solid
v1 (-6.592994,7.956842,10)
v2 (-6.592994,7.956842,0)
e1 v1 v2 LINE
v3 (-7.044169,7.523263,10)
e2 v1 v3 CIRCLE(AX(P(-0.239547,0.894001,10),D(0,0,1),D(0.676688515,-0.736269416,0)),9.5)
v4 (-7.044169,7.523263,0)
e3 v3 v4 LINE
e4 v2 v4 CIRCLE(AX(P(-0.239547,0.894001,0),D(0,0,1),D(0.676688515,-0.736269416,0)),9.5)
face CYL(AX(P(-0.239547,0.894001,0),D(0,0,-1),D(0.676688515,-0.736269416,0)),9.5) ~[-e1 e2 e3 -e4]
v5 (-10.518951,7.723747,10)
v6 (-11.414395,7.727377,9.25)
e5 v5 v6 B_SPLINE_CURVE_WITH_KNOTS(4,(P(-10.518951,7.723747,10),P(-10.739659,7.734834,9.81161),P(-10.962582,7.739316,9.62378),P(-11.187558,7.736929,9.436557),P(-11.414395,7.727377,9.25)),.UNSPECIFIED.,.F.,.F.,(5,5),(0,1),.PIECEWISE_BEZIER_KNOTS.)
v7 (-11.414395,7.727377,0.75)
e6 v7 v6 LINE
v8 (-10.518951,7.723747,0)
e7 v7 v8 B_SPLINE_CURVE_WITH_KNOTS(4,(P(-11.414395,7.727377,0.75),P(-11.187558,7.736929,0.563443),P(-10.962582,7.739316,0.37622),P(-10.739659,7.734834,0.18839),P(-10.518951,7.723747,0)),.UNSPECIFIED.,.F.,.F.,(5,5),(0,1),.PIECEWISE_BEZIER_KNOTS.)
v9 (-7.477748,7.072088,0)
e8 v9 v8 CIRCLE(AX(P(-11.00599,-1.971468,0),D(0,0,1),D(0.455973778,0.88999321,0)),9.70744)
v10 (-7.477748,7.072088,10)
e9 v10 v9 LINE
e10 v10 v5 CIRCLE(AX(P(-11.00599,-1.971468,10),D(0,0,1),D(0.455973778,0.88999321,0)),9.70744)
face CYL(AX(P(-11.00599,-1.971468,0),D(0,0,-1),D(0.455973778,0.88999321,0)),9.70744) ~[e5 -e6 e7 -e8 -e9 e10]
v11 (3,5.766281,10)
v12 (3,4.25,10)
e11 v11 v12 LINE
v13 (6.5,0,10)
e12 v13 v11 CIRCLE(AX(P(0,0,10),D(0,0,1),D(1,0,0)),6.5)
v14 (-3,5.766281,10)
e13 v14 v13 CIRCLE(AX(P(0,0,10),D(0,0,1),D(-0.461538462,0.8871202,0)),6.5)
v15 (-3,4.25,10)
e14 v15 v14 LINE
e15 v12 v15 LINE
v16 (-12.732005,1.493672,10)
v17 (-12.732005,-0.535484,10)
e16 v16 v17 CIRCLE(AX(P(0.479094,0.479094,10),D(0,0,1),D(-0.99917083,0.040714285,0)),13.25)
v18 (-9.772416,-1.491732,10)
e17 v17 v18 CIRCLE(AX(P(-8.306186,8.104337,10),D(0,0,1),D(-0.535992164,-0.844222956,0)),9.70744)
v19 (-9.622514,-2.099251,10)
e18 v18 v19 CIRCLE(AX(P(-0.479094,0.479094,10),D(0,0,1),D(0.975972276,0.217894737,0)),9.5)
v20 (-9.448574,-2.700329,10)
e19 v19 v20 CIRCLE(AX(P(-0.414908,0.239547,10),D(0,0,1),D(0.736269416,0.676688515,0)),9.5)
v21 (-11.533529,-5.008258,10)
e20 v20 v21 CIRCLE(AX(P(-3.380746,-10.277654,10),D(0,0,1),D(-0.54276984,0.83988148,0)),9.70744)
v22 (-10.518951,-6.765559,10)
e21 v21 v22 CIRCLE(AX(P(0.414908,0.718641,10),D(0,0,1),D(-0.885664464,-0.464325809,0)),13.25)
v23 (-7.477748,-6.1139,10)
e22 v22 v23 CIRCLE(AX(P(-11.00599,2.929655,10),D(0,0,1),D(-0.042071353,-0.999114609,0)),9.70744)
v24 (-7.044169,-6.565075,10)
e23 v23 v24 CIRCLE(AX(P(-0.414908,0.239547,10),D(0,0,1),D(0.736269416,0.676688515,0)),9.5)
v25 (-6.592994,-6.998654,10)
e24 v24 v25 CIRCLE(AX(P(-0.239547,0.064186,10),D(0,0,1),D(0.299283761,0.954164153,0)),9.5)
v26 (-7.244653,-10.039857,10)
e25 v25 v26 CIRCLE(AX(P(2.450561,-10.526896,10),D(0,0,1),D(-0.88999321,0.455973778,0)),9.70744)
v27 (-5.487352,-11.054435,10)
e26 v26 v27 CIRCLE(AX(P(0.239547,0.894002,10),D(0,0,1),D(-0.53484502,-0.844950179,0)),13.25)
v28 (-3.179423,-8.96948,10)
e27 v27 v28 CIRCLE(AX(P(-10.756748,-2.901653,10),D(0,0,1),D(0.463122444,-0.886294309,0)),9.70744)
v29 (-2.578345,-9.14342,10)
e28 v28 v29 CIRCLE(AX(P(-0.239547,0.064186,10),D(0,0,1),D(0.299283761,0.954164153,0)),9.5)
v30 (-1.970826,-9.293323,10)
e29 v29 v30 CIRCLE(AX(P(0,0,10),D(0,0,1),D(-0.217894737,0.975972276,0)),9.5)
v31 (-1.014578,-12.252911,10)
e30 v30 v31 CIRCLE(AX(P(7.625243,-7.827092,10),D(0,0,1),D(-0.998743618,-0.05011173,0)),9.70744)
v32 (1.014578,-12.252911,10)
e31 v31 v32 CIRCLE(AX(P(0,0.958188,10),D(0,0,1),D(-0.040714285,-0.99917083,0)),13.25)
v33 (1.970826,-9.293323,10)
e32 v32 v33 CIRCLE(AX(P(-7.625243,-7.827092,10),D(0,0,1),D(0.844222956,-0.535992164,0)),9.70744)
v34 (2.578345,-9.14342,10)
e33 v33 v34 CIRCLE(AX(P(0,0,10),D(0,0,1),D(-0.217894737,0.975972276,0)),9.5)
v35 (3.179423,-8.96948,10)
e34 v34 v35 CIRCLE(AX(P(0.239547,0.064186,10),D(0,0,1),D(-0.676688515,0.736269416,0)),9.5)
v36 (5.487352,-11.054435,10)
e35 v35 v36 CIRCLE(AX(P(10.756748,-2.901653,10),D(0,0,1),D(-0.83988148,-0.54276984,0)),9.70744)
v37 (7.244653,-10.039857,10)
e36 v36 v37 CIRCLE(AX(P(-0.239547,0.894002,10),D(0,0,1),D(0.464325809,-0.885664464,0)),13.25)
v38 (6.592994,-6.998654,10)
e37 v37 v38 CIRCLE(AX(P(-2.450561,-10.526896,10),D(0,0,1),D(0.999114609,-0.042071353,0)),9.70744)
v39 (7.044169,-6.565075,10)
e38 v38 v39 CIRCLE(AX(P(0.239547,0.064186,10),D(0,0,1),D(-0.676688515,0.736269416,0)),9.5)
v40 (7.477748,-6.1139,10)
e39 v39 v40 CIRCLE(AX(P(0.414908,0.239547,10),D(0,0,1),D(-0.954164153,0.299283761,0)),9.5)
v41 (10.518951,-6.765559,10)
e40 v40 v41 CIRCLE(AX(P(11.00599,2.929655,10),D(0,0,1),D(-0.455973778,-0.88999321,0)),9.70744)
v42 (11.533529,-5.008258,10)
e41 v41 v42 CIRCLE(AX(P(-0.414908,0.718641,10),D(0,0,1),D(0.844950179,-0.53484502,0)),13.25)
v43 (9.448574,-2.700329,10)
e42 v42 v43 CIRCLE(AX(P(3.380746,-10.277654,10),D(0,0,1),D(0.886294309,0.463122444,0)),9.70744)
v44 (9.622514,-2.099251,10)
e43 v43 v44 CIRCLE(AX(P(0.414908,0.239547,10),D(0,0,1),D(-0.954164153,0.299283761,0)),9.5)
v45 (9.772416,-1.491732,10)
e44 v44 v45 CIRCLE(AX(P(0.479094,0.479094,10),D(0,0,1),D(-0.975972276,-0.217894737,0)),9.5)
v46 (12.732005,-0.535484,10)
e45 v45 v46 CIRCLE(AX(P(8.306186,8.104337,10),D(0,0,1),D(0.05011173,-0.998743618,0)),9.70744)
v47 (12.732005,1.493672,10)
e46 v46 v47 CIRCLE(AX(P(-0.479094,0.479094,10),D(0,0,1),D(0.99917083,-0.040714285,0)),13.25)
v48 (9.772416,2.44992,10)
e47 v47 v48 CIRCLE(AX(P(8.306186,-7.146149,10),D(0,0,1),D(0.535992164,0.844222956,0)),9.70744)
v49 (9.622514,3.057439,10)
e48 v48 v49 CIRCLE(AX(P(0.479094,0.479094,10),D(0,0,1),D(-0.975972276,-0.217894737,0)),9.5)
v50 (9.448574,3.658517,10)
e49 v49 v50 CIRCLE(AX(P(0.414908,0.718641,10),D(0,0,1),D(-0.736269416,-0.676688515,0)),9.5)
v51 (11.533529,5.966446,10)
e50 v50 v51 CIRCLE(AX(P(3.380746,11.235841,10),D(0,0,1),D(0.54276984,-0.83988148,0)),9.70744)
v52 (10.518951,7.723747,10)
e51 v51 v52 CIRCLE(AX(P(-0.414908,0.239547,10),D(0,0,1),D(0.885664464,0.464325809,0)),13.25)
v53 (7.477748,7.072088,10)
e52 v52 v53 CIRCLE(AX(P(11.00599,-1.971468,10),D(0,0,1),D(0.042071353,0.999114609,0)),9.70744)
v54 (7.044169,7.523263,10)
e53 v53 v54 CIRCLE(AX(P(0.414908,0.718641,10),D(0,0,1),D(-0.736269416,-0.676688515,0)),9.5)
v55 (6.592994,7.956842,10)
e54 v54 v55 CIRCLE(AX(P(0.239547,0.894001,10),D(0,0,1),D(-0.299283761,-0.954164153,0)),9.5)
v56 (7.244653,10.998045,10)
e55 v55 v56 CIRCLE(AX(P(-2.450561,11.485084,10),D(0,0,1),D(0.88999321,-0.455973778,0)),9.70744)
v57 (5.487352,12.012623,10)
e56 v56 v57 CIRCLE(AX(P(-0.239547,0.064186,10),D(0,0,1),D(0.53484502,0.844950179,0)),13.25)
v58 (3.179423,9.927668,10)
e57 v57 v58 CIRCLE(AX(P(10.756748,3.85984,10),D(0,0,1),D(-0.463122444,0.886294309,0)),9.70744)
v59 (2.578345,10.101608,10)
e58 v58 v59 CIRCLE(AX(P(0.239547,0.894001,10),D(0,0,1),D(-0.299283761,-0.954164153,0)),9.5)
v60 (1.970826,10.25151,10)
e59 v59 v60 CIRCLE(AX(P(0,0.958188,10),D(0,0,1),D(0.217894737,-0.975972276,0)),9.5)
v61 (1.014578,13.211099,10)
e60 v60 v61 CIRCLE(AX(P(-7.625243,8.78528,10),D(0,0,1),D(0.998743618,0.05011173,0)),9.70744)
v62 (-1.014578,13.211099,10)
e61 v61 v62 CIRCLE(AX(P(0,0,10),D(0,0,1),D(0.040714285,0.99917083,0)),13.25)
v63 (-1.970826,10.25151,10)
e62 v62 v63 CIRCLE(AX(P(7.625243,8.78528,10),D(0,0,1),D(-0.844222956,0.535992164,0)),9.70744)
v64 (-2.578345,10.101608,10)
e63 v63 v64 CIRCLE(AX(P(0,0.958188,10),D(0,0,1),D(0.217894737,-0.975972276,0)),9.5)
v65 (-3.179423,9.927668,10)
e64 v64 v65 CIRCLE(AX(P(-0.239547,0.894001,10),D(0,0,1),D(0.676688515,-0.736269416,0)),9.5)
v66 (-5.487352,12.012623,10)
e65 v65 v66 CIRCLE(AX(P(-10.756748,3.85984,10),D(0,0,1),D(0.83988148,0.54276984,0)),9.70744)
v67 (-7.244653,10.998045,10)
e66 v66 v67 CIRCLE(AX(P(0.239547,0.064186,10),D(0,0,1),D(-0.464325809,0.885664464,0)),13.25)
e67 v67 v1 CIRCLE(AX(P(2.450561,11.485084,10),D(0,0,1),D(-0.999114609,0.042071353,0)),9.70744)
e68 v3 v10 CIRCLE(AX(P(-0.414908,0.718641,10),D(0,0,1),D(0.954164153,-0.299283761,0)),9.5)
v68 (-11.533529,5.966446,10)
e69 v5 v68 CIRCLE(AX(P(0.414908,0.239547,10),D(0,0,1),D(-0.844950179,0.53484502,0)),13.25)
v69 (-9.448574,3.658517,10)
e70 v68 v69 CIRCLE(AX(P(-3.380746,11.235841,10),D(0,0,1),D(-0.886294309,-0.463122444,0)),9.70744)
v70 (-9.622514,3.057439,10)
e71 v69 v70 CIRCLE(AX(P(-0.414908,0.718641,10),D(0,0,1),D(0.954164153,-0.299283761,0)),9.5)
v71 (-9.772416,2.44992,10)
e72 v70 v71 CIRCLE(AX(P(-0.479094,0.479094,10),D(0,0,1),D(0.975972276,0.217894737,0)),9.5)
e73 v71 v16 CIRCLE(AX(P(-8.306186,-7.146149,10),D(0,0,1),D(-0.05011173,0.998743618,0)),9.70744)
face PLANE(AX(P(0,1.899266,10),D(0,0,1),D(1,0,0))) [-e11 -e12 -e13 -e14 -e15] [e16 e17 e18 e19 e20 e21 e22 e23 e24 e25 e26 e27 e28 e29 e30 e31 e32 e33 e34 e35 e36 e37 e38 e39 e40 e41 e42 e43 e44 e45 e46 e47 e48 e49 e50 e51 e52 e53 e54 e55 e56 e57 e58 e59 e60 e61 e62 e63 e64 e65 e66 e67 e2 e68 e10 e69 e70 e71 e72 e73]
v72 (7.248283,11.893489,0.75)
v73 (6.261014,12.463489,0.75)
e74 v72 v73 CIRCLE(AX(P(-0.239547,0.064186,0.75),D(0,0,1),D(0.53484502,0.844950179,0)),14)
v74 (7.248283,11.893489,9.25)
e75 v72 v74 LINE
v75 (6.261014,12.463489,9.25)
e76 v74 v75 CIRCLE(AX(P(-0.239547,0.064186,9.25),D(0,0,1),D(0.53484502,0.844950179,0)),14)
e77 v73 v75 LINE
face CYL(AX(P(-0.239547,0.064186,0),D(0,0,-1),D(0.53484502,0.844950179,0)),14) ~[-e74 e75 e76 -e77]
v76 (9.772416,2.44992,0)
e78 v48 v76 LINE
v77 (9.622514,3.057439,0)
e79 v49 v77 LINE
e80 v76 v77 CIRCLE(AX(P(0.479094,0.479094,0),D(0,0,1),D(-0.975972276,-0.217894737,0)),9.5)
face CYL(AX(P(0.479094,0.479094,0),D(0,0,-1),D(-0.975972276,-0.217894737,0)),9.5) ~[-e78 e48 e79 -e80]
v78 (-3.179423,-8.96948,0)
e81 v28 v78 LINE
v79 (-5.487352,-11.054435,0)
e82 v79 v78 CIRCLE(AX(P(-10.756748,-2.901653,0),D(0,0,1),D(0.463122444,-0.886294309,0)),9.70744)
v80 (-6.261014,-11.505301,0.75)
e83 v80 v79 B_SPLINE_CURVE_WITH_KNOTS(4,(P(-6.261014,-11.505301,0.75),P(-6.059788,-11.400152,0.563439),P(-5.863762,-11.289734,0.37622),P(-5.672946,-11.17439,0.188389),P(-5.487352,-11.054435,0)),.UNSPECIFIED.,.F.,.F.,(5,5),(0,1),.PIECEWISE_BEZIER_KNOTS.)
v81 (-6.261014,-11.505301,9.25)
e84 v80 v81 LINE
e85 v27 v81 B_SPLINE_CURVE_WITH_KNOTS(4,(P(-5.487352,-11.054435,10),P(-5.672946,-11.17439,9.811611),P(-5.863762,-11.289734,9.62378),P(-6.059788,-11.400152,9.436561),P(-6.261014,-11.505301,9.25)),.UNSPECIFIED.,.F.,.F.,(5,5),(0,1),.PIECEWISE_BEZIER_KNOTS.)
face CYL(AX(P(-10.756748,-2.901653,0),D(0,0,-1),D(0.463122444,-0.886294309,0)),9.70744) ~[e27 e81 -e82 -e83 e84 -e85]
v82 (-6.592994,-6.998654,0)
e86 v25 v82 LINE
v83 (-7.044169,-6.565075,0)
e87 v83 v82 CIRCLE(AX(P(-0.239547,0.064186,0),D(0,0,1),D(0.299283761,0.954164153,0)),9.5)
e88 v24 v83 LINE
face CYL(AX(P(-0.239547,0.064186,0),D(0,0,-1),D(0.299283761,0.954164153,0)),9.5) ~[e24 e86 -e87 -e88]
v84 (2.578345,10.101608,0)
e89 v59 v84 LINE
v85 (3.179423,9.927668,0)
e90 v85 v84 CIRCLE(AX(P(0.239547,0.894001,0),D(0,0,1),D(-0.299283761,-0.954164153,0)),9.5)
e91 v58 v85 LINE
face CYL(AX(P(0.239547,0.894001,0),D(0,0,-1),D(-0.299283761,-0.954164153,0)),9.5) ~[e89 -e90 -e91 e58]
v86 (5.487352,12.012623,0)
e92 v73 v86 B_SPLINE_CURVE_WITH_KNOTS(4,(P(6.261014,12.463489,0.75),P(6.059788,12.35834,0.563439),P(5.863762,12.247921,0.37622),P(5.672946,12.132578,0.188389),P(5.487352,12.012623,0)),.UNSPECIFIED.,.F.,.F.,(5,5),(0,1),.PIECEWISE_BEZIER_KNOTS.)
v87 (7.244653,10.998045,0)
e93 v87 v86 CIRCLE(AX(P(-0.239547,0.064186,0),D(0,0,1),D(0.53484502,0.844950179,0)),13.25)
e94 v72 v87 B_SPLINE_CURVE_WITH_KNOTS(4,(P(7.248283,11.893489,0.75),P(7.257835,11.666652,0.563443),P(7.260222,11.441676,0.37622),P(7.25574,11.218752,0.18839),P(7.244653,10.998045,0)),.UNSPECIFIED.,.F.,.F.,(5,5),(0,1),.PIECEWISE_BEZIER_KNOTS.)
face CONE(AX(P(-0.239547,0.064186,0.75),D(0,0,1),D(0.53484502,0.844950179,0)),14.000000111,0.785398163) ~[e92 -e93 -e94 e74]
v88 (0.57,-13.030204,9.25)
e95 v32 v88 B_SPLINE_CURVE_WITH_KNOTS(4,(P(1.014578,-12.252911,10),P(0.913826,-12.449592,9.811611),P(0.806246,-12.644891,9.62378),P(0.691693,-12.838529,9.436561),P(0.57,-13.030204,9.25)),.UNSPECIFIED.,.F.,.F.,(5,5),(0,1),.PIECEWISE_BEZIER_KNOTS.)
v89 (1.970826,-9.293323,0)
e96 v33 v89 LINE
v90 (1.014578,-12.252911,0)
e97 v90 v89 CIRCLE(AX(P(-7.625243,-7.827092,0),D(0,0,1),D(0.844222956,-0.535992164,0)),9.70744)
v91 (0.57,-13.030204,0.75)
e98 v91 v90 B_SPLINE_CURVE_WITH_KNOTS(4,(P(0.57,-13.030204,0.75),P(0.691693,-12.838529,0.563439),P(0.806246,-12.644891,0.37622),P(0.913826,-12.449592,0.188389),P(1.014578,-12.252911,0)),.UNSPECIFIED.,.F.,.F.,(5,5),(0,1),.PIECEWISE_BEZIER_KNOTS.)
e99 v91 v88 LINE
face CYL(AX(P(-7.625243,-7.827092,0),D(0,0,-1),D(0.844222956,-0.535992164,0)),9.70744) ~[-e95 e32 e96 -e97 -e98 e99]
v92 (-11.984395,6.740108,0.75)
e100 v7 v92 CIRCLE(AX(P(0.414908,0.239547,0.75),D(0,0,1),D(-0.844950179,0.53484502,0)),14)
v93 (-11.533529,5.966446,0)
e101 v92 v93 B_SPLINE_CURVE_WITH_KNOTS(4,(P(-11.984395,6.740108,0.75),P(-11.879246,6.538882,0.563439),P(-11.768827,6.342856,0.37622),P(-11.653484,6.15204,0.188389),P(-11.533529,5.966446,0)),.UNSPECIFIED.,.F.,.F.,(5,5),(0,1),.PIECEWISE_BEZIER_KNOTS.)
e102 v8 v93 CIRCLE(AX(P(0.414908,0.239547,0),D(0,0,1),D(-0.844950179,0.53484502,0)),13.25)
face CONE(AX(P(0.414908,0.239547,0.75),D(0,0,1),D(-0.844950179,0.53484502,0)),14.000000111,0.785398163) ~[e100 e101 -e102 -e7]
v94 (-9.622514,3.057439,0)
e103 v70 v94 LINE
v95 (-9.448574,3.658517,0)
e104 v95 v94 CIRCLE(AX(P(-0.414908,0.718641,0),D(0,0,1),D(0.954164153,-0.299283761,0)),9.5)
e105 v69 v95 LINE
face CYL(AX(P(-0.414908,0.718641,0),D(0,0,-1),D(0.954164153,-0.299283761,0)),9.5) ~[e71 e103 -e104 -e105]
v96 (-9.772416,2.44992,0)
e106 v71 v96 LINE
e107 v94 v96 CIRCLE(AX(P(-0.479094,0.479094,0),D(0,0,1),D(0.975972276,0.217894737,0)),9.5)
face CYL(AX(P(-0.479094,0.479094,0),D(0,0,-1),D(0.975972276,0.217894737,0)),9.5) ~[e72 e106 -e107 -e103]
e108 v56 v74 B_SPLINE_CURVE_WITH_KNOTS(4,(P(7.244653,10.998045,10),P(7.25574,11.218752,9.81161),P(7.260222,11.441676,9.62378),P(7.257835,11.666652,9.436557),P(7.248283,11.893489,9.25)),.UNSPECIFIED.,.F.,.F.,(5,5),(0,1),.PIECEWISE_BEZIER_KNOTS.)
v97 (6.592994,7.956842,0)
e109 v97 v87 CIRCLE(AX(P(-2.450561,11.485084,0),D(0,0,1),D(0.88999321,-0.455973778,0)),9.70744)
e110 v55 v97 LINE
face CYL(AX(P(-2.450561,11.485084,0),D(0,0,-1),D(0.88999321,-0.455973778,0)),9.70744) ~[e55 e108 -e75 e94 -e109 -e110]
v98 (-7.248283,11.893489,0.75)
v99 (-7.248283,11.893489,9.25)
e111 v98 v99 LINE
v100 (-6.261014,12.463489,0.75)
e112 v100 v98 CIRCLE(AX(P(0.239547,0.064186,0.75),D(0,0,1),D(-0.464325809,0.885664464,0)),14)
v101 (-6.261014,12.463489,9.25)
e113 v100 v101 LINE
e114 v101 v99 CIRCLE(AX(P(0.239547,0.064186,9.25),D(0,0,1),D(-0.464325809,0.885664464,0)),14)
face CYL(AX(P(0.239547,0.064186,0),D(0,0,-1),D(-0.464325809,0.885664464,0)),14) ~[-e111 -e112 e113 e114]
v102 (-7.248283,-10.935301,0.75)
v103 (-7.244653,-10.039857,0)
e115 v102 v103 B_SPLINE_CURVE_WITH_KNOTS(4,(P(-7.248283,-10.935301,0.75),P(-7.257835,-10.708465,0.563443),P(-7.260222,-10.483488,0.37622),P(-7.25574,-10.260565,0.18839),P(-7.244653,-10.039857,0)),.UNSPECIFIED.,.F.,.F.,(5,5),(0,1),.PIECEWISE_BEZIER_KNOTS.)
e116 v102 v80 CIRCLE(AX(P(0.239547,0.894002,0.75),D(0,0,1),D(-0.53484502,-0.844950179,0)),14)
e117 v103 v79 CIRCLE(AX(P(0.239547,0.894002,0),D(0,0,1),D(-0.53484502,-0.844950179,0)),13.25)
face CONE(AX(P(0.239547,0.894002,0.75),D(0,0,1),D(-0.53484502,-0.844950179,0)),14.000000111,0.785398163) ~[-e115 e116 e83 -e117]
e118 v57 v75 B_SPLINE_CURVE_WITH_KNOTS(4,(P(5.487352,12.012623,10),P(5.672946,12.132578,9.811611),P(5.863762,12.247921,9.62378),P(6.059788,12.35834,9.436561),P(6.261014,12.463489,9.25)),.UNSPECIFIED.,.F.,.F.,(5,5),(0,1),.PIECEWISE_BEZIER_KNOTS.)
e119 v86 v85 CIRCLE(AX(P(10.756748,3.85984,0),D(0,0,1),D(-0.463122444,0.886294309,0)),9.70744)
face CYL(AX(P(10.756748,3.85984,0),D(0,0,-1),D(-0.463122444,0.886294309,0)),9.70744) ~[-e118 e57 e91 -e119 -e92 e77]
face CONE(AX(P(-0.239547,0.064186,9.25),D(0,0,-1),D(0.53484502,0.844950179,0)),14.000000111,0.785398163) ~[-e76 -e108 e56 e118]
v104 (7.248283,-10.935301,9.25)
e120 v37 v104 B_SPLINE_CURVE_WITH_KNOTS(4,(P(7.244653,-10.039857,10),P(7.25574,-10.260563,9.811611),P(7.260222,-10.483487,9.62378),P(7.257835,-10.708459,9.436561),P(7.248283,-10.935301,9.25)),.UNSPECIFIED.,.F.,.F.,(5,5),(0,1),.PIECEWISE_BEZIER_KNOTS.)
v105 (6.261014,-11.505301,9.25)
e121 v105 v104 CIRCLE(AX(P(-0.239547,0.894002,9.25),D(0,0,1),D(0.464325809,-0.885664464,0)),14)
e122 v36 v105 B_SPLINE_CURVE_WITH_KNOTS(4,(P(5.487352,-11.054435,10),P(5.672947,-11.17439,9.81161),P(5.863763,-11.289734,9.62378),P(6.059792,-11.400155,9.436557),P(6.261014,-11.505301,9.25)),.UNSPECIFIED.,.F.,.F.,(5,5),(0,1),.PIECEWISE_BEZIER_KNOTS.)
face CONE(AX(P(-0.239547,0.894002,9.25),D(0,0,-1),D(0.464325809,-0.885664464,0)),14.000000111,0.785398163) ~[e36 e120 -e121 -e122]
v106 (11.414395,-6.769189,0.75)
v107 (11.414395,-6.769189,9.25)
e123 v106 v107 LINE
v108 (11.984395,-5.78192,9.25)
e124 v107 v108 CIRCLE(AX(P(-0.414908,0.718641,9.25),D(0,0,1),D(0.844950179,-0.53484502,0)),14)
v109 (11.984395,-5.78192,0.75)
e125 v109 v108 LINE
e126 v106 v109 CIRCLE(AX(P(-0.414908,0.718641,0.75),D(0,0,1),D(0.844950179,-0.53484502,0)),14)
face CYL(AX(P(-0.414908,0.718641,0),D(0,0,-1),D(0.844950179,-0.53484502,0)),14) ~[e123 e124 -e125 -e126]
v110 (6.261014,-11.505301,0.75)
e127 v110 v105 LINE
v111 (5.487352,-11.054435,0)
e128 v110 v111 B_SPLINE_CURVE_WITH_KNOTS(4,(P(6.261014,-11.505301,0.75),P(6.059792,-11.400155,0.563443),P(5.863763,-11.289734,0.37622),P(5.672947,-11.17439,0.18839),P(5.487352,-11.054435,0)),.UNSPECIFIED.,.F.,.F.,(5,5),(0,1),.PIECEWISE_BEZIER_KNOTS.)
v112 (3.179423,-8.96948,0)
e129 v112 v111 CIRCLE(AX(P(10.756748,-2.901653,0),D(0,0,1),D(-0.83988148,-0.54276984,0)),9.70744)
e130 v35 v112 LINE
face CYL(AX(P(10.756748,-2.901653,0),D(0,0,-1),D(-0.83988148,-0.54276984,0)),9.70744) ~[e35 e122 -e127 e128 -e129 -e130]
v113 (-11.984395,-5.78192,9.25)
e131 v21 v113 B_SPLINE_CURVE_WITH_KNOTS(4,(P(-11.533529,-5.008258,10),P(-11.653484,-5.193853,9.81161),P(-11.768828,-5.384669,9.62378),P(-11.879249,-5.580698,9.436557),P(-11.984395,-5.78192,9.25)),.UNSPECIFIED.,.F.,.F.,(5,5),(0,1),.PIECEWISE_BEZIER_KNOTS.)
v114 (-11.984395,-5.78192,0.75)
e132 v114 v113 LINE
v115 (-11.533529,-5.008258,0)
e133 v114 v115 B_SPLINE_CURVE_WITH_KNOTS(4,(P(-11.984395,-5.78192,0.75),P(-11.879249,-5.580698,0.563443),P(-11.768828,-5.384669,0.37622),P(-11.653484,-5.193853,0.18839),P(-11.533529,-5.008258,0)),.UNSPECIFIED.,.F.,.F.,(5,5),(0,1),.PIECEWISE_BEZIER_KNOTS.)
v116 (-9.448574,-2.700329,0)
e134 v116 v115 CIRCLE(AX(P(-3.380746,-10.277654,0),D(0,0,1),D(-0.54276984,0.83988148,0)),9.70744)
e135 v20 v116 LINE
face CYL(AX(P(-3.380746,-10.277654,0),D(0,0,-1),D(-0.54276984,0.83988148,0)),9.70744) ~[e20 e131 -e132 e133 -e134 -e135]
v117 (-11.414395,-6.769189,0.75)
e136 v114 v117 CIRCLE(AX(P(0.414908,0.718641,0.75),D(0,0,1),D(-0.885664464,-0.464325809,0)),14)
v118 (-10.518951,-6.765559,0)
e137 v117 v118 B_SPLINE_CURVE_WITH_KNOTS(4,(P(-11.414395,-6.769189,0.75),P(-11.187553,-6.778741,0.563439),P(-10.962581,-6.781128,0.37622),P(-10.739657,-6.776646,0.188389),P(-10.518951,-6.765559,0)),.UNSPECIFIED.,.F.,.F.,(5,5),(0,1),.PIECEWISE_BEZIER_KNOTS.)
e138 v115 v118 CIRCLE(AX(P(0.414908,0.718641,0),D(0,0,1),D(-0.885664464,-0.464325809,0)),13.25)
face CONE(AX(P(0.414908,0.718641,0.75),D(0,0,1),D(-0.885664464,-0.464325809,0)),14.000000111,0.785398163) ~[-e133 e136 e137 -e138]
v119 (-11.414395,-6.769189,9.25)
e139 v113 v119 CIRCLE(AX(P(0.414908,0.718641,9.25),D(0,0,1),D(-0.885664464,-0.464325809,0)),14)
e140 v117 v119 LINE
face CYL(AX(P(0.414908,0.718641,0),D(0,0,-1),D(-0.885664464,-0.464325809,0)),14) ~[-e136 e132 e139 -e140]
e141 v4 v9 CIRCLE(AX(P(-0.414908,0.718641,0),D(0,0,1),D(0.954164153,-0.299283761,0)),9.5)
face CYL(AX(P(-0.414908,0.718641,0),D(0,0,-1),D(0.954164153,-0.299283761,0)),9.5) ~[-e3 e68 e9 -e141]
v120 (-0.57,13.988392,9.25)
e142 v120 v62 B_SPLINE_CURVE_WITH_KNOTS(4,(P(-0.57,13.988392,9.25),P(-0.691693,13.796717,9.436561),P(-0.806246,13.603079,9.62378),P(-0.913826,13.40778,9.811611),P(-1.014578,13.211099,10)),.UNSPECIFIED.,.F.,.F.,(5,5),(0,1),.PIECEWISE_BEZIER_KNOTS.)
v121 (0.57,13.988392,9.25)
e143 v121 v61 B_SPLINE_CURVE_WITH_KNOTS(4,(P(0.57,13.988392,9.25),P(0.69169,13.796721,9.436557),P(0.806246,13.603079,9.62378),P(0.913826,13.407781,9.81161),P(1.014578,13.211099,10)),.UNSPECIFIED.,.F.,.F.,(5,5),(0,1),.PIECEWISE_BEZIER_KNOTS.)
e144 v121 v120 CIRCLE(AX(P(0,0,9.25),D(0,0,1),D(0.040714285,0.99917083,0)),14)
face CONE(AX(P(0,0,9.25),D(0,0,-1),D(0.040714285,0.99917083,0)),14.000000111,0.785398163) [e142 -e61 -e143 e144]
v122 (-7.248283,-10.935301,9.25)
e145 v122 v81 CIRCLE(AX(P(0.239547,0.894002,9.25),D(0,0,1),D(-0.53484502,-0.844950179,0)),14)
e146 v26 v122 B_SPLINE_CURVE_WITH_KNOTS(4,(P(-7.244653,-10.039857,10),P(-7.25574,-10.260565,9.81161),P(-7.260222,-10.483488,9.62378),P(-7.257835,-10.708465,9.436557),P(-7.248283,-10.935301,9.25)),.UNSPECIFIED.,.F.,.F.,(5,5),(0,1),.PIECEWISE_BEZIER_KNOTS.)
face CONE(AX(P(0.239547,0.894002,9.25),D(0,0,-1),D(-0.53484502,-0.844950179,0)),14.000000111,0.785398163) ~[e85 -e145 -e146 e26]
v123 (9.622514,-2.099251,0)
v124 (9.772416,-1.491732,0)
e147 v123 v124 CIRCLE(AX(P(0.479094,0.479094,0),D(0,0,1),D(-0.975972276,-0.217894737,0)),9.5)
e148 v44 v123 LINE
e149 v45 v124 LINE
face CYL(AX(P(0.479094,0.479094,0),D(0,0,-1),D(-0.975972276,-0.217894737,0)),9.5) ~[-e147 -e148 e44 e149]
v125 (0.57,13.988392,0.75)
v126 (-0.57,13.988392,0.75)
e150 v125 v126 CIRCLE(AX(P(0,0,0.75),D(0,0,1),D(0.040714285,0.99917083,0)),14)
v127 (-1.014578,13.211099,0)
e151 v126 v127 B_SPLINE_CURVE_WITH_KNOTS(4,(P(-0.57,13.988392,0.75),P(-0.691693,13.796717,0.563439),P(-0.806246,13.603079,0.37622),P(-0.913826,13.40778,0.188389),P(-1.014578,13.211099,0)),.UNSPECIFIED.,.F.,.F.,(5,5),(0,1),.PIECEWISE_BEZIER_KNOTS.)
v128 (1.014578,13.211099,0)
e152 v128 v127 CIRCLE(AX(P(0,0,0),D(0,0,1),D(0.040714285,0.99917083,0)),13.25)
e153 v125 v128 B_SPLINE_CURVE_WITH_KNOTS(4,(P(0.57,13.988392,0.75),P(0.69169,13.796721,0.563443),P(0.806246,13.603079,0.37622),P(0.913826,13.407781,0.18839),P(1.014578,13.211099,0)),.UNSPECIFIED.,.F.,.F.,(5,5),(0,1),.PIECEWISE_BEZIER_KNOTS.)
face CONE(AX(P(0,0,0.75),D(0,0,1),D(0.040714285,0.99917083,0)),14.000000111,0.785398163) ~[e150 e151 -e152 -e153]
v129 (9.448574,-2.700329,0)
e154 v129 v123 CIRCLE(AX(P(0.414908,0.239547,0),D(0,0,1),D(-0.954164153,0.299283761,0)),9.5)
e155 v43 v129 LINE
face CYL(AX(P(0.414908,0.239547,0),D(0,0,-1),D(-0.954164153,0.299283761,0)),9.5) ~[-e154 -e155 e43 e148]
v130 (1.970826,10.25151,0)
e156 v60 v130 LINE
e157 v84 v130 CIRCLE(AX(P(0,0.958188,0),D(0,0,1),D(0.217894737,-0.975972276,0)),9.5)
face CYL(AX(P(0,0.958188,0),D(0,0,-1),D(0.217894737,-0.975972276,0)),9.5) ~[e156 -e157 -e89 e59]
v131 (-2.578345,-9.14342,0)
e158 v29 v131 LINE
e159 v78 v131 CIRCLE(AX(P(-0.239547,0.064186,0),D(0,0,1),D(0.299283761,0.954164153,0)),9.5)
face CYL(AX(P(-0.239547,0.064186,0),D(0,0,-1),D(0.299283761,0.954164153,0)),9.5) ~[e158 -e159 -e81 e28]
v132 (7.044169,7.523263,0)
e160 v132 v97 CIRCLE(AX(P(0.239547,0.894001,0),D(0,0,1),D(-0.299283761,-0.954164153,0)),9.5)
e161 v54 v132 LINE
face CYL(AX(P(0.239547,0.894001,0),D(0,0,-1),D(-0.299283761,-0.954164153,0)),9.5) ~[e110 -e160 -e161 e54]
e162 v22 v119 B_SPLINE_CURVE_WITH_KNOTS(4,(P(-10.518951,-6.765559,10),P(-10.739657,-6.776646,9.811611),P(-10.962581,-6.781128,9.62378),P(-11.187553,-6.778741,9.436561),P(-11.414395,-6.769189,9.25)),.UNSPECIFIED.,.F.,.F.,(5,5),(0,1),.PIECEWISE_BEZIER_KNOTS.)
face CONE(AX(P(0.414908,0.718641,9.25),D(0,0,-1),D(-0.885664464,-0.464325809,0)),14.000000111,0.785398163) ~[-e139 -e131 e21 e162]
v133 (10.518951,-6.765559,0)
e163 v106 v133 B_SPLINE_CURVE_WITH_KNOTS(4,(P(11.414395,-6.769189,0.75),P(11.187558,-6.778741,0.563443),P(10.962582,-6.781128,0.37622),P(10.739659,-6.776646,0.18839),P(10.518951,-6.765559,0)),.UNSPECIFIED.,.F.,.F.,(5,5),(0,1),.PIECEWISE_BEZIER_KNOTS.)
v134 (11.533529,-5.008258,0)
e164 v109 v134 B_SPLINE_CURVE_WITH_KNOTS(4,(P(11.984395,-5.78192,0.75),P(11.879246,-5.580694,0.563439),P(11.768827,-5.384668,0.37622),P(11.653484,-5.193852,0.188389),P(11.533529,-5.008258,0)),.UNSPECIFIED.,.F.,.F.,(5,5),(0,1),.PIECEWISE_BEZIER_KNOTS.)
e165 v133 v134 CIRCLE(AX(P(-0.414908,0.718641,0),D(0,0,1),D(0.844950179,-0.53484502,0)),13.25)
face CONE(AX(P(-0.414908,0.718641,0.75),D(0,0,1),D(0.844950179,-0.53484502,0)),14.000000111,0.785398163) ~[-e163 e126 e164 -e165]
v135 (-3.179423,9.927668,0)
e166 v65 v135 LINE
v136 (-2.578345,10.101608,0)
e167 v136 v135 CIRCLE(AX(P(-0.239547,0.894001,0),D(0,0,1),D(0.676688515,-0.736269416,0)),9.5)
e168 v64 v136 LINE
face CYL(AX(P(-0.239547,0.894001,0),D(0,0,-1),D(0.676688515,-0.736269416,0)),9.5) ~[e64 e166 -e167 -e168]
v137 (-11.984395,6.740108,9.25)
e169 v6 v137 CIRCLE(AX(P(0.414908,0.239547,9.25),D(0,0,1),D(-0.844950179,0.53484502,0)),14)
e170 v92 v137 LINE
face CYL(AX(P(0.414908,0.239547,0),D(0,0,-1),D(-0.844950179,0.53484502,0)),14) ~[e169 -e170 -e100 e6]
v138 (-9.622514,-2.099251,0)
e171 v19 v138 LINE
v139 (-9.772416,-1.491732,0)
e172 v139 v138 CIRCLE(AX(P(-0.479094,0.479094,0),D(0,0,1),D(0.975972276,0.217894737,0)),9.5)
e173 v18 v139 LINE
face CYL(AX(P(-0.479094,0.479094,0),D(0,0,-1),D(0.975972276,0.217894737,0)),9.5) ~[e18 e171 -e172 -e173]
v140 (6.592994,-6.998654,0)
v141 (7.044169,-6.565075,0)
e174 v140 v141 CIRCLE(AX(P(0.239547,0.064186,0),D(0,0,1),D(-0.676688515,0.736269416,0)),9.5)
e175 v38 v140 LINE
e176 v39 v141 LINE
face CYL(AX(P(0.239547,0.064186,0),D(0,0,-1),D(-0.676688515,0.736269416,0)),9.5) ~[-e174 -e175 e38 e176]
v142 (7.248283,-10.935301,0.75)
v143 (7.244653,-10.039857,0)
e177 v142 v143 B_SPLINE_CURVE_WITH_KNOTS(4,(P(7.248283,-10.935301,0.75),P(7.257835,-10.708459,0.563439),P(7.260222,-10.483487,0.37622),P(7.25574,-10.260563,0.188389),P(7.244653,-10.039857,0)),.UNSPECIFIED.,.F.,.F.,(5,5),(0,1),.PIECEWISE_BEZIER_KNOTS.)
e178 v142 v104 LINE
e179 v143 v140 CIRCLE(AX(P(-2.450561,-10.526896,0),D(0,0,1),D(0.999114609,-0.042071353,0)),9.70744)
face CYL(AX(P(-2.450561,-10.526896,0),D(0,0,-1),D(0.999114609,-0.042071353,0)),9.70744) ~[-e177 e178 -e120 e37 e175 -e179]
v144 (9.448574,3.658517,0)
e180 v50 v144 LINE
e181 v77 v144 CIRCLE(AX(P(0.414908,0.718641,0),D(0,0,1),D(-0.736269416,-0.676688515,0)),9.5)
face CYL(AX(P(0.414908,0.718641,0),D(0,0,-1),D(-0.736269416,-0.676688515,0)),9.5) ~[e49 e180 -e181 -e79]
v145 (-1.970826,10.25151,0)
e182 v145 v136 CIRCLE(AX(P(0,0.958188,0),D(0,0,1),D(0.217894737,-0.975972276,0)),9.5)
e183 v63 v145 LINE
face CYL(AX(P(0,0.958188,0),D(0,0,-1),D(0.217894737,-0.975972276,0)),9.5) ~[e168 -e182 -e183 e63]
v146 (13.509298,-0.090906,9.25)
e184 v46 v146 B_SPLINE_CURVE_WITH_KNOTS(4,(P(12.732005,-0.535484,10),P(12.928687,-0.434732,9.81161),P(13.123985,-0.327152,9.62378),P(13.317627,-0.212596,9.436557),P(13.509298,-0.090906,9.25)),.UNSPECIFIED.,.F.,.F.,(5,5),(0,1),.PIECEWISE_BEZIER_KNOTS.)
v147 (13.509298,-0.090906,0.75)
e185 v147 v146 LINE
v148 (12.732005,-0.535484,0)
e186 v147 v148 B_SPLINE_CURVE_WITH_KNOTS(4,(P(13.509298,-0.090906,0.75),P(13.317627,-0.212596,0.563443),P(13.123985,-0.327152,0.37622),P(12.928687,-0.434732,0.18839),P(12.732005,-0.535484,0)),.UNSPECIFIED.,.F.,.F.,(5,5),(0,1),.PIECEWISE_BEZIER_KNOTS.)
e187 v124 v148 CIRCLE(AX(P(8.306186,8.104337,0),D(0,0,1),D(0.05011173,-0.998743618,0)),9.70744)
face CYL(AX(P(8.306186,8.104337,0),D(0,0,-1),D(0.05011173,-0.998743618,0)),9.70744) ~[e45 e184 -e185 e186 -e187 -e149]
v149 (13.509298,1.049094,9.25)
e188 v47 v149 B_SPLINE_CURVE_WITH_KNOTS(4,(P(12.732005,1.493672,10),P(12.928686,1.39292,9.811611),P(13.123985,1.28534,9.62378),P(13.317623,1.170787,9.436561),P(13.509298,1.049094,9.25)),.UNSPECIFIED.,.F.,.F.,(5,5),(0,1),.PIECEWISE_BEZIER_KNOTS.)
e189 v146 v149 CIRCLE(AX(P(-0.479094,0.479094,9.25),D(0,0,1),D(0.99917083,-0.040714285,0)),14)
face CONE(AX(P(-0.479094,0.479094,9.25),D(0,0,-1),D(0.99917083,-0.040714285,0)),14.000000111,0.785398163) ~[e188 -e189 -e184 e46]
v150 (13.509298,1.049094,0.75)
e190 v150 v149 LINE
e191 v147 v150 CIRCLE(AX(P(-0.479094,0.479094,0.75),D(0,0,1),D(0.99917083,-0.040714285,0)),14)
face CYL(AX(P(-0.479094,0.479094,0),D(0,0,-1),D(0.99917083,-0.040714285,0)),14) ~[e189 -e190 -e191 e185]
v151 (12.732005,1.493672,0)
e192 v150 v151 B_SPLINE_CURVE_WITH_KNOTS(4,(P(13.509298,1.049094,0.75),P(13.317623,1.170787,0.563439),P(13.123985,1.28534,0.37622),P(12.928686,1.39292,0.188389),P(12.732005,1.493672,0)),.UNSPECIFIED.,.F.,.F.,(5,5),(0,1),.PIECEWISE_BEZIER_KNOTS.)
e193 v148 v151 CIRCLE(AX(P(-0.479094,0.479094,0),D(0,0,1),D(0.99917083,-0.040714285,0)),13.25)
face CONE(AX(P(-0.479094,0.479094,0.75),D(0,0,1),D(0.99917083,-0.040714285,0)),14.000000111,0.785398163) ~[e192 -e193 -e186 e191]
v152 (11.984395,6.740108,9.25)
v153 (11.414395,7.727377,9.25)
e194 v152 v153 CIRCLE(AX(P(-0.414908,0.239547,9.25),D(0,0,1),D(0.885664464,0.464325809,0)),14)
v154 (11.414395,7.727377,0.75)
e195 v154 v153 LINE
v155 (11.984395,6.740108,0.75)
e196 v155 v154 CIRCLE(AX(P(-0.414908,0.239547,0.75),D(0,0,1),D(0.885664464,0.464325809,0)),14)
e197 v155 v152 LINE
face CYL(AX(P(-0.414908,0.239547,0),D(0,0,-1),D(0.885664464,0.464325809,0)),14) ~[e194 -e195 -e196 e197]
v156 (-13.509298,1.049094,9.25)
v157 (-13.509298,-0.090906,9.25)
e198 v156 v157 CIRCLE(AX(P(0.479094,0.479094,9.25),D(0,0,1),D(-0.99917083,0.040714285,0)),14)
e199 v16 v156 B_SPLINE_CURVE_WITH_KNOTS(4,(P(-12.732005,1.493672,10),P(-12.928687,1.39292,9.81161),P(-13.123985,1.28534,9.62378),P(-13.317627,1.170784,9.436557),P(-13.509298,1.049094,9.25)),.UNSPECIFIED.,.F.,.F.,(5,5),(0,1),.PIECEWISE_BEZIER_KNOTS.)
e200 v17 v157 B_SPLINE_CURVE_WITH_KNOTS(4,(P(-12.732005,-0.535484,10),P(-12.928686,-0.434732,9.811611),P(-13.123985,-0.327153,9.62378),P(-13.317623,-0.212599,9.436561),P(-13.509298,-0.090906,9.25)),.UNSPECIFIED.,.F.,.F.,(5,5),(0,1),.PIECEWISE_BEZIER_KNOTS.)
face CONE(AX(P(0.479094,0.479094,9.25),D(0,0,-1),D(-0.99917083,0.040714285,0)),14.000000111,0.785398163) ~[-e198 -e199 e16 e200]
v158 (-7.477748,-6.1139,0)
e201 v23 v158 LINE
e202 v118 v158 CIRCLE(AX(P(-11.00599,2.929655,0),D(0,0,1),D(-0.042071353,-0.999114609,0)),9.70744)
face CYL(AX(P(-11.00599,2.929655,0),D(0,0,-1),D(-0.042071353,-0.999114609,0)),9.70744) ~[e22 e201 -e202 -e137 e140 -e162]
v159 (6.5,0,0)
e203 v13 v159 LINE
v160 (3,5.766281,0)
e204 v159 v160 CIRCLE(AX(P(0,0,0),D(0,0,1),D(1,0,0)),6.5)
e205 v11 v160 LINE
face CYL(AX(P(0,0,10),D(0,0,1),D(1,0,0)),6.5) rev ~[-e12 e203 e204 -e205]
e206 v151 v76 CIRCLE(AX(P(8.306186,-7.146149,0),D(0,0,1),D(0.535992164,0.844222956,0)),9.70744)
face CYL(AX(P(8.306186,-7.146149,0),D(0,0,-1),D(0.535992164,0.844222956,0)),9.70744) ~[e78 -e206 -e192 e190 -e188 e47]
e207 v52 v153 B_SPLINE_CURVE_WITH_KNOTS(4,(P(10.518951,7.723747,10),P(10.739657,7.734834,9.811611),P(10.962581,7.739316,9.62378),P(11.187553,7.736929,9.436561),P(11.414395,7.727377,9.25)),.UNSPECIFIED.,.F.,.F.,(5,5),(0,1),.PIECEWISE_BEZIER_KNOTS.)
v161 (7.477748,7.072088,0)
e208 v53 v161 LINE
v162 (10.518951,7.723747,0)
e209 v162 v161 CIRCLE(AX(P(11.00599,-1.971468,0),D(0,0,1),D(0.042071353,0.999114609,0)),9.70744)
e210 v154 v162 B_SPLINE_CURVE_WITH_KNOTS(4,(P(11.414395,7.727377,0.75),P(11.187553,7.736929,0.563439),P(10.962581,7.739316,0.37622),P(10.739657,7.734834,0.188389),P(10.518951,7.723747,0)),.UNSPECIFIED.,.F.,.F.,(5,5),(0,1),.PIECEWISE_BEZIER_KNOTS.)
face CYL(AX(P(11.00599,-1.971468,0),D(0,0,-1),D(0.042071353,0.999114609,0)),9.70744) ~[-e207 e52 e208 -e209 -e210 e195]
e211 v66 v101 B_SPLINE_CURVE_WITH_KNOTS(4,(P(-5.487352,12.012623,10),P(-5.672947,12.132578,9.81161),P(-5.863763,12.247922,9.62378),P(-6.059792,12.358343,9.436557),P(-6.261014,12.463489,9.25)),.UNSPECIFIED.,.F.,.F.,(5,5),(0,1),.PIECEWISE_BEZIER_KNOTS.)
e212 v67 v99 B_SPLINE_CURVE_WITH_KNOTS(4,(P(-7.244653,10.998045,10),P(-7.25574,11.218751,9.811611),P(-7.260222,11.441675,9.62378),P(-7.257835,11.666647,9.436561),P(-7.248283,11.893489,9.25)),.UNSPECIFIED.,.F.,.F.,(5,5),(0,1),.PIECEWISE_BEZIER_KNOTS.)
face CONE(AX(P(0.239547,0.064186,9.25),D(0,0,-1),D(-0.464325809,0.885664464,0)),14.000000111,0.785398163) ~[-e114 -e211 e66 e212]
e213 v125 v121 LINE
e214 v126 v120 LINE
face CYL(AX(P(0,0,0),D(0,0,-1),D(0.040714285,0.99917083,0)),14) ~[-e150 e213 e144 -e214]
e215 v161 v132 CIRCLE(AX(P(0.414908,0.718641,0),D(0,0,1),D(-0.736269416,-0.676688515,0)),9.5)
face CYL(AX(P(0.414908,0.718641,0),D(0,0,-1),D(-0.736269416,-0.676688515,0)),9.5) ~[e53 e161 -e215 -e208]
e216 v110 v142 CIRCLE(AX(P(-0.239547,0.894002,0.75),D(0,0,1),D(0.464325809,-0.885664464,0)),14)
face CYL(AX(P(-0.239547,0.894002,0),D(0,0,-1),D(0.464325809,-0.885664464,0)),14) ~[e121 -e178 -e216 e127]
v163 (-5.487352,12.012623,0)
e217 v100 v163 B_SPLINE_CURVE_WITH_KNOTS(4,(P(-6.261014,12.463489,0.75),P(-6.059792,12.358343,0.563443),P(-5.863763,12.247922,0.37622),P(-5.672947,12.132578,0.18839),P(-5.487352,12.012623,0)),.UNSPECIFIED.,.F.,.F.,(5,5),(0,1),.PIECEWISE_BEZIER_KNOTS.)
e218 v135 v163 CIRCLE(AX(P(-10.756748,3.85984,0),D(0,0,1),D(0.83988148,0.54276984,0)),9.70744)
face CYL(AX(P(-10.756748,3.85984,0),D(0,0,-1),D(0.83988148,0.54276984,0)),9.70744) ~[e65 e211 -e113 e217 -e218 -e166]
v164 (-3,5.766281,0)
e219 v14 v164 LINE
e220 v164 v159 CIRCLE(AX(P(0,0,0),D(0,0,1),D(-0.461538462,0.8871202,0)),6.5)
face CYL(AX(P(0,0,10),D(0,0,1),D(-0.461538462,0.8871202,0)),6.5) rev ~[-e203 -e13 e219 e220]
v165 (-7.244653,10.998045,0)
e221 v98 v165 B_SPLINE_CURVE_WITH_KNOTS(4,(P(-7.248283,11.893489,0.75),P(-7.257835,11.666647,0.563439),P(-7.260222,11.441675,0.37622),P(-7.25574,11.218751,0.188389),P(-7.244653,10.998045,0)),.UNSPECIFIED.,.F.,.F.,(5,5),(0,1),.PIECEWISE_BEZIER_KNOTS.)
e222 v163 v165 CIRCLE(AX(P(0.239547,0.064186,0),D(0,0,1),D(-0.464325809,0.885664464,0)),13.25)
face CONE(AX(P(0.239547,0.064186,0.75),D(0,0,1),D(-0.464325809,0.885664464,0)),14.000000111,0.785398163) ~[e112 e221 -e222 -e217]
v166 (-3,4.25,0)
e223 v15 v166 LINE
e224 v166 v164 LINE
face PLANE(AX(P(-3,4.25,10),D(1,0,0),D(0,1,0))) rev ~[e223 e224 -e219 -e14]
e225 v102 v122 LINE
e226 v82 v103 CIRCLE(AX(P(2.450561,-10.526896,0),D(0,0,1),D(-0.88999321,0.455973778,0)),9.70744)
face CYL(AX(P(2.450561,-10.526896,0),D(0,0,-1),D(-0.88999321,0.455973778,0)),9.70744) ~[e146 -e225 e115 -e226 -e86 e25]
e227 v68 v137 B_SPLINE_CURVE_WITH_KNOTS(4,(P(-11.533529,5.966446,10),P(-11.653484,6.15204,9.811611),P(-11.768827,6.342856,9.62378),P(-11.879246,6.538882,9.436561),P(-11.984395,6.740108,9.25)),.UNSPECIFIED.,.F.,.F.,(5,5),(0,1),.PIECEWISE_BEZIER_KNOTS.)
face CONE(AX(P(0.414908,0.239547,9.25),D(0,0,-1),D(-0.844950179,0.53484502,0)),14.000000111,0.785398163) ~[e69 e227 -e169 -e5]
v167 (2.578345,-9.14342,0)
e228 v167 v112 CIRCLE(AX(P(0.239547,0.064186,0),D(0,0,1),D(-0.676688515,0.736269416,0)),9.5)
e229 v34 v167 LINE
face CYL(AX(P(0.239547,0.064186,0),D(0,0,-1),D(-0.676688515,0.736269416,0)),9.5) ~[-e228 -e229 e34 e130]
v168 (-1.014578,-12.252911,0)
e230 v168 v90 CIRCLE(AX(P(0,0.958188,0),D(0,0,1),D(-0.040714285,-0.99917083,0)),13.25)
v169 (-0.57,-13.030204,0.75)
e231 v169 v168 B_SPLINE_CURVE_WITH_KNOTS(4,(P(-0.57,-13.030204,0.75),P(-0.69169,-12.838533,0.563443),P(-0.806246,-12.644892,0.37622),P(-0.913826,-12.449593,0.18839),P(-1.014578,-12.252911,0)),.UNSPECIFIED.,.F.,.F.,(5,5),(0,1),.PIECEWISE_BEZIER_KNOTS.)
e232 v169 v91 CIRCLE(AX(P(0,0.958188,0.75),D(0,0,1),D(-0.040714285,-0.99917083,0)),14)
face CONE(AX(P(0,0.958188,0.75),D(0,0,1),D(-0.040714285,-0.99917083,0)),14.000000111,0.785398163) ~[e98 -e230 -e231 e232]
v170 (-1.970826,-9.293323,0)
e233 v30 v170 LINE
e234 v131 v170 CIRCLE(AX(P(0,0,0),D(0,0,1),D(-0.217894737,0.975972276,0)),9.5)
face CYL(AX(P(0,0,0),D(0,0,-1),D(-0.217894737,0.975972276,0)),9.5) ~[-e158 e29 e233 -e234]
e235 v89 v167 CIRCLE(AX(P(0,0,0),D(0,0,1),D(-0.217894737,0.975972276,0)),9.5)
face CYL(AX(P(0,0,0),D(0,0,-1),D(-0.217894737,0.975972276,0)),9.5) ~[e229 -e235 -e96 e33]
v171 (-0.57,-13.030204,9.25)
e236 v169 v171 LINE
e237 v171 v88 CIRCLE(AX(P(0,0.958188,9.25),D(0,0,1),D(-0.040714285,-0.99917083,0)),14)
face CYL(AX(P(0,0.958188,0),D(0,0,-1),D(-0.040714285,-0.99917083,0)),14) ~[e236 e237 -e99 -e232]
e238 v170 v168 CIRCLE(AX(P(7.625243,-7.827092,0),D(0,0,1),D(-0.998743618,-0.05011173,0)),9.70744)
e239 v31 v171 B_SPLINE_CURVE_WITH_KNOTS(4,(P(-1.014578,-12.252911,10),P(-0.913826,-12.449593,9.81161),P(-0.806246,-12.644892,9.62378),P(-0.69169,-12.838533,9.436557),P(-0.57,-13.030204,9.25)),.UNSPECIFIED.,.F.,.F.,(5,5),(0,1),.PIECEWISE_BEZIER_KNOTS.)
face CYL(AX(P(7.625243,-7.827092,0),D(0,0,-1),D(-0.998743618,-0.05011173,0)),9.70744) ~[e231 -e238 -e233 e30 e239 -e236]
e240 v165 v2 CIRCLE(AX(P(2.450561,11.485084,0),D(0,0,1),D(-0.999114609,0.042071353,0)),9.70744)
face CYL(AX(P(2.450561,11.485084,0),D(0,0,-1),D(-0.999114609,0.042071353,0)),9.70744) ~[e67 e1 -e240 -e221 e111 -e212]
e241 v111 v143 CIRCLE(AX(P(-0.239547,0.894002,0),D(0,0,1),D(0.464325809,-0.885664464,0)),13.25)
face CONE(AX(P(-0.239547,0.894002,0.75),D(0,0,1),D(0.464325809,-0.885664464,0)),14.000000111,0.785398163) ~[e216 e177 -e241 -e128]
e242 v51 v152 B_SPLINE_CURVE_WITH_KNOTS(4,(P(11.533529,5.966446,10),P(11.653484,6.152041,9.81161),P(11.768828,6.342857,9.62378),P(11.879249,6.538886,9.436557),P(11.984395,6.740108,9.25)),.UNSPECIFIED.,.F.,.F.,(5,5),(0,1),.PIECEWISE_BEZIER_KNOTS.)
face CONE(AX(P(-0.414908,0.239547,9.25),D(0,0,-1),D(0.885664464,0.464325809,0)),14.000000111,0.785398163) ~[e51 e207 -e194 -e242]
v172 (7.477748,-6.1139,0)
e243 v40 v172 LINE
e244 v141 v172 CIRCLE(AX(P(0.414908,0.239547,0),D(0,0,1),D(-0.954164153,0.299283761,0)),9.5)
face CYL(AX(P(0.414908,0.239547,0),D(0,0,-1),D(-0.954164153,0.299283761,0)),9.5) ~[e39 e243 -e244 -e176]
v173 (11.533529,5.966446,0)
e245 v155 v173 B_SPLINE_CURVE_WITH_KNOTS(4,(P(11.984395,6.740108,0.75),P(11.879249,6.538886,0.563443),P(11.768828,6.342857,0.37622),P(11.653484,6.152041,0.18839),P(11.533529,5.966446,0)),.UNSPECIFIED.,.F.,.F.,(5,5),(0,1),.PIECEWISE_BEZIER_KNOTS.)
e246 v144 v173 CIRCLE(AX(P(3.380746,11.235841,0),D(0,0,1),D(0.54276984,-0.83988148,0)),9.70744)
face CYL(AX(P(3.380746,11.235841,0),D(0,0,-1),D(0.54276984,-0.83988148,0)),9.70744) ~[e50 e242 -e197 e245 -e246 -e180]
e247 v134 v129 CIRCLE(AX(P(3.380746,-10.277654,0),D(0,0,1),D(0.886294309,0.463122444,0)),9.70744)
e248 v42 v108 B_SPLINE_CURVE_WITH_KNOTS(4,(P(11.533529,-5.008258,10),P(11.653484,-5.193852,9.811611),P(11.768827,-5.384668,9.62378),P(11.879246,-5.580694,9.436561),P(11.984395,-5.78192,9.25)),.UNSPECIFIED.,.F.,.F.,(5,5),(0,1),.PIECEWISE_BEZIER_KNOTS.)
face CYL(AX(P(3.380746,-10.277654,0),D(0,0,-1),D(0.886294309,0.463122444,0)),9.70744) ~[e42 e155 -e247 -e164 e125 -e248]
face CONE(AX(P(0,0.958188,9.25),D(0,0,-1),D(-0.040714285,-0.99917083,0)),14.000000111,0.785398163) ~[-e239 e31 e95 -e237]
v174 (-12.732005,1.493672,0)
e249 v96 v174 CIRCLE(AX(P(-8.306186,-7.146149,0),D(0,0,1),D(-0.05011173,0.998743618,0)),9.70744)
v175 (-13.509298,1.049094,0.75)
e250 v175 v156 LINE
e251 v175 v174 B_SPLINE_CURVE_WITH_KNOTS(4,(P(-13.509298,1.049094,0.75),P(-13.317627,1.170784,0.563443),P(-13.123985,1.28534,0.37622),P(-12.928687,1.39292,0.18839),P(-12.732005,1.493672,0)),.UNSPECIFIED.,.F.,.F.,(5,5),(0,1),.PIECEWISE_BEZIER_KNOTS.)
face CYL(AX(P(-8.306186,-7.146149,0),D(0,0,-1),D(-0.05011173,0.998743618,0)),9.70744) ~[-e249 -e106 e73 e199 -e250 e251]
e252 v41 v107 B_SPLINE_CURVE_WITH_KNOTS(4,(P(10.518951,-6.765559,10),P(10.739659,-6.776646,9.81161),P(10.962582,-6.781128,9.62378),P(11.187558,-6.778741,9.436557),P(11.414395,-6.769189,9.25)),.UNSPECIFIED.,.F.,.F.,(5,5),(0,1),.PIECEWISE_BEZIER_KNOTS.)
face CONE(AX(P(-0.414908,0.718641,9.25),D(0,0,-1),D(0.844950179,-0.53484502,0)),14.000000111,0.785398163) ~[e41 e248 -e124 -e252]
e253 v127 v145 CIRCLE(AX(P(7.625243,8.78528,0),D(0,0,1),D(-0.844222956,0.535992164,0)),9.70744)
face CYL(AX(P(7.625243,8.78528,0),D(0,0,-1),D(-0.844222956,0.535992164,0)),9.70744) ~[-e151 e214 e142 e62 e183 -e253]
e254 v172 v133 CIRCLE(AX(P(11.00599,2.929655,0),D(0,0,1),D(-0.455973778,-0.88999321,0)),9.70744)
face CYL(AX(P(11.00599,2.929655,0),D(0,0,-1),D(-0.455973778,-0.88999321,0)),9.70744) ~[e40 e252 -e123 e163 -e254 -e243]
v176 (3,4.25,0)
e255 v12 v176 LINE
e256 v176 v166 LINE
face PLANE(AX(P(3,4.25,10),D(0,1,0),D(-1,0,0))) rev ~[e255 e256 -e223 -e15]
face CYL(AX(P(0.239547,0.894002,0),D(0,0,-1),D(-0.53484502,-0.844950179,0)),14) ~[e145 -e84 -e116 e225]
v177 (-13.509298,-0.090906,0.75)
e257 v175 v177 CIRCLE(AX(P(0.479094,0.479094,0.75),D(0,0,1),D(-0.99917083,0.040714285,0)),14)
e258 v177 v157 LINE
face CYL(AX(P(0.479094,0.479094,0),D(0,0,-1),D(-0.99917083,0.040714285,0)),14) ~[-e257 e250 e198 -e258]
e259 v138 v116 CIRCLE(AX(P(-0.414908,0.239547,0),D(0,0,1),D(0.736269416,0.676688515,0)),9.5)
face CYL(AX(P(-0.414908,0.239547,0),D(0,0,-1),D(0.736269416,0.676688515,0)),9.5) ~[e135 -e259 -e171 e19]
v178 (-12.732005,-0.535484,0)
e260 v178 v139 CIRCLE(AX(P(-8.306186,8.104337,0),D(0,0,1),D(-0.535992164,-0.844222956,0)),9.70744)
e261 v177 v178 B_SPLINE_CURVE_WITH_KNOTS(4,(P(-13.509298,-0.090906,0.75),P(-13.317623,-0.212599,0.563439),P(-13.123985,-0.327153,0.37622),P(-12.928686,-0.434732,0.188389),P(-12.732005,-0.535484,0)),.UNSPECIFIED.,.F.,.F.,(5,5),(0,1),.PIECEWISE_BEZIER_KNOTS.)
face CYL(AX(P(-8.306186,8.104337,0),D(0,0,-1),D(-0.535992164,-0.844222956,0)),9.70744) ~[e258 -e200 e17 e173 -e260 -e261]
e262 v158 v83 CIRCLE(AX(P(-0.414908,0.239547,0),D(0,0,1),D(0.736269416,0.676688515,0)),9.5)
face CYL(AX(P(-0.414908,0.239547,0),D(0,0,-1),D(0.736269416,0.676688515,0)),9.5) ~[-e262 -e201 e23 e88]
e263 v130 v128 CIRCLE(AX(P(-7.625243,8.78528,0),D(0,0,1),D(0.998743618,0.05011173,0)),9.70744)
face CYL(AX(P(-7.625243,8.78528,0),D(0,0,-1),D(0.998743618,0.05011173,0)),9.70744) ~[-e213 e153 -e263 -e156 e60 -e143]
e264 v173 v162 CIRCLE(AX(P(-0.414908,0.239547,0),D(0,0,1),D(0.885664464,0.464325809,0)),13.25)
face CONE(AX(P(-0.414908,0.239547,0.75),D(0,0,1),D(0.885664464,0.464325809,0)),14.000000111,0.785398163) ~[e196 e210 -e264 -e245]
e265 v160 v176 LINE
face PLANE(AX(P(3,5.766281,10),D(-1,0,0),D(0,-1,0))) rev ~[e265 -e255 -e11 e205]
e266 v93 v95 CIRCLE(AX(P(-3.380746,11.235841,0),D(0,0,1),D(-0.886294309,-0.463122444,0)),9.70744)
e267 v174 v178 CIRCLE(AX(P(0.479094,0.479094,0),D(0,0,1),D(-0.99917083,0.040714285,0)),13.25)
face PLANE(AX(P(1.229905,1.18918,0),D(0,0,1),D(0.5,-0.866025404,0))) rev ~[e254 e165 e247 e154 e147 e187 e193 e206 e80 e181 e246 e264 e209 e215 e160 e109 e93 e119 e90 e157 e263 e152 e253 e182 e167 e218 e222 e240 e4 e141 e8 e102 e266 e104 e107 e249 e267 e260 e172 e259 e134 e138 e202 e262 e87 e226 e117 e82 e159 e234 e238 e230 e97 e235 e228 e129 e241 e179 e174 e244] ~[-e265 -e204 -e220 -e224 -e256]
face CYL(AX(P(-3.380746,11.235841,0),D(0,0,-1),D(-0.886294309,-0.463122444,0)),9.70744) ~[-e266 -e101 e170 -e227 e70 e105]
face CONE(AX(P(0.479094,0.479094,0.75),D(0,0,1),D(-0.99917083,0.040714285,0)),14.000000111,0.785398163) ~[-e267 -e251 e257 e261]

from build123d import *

# Parameters (mm, degrees)
BOSS_EXTRUDE1_DEPTH          = 10
CHAMFER1_SIZE                = 0.75
CIRPATTERN1_COUNT            = 12
CHAMFER1_OF_CIRPATTERN1_SIZE = 0.75
CUT_EXTRUDE2_DEPTH           = 10


with BuildPart() as part:
    # Sketch1 → Boss-Extrude1 (new body)
    with BuildSketch(Plane.XY):
        with BuildLine():
            ThreePointArc((-2.07, 9.271736623), (0, -9.5), (2.07, 9.271736623))
            ThreePointArc((2.07, 9.271736623), (1.625653209, 11.72726856), (0.57, 13.988391616))
            ThreePointArc((0.57, 13.988391616), (0, 14), (-0.57, 13.988391616))
            ThreePointArc((-0.57, 13.988391616), (-1.625653209, 11.72726856), (-2.07, 9.271736623))
        make_face()
    boss_extrude1 = extrude(amount=BOSS_EXTRUDE1_DEPTH)

    # Chamfer1
    chamfer1_edges = [part.edges().sort_by_distance(p)[0] for p in [
        (0, 14, 10),
        (0, 14, 0),
    ]]
    chamfer(chamfer1_edges, length=CHAMFER1_SIZE)

    # CirPattern1: Boss-Extrude1 ×12 about axis
    cirpattern1_axis = Axis((0, 0.479093936, 0), (0, 0, 1))
    for i in range(1, CIRPATTERN1_COUNT):
        add(boss_extrude1.rotate(cirpattern1_axis, i * 360 / CIRPATTERN1_COUNT))

    # Chamfer1 of CirPattern1
    chamfer1_of_cirpattern1_edges = [part.edges().sort_by_distance(p)[0] for p in [
        (-6.760453032, 12.18854207, 10),
        (-6.760453032, 12.18854207, 0),
        (-11.709448133, 7.239546968, 10),
        (-11.709448133, 7.239546968, 0),
        (-13.520906064, 0.479093936, 10),
        (-13.520906064, 0.479093936, 0),
        (-11.709448133, -6.281359096, 10),
        (-11.709448133, -6.281359096, 0),
        (-6.760453032, -11.230354197, 10),
        (-6.760453032, -11.230354197, 0),
        (0, -13.041812128, 10),
        (0, -13.041812128, 0),
        (6.760453032, -11.230354197, 10),
        (6.760453032, -11.230354197, 0),
        (11.709448133, -6.281359096, 10),
        (11.709448133, -6.281359096, 0),
        (13.520906064, 0.479093936, 10),
        (13.520906064, 0.479093936, 0),
        (11.709448133, 7.239546968, 10),
        (11.709448133, 7.239546968, 0),
        (6.760453032, 12.18854207, 10),
        (6.760453032, 12.18854207, 0),
    ]]
    chamfer(chamfer1_of_cirpattern1_edges, length=CHAMFER1_OF_CIRPATTERN1_SIZE)

    # Sketch3 → Cut-Extrude2 (cut)
    with BuildSketch(Plane.XY.offset(10)):
        with BuildLine():
            Line((-3, 4.25), (-3, 5.766281297))
            ThreePointArc((-3, 5.766281297), (-3.372684391, -5.556527693), (6.5, 0))
            ThreePointArc((6.5, 0), (5.556527693, 3.372684391), (3, 5.766281297))
            Line((3, 5.766281297), (3, 4.25))
            Line((3, 4.25), (-3, 4.25))
        make_face()
    extrude(amount=-CUT_EXTRUDE2_DEPTH, mode=Mode.SUBTRACT)


solid = part.part
